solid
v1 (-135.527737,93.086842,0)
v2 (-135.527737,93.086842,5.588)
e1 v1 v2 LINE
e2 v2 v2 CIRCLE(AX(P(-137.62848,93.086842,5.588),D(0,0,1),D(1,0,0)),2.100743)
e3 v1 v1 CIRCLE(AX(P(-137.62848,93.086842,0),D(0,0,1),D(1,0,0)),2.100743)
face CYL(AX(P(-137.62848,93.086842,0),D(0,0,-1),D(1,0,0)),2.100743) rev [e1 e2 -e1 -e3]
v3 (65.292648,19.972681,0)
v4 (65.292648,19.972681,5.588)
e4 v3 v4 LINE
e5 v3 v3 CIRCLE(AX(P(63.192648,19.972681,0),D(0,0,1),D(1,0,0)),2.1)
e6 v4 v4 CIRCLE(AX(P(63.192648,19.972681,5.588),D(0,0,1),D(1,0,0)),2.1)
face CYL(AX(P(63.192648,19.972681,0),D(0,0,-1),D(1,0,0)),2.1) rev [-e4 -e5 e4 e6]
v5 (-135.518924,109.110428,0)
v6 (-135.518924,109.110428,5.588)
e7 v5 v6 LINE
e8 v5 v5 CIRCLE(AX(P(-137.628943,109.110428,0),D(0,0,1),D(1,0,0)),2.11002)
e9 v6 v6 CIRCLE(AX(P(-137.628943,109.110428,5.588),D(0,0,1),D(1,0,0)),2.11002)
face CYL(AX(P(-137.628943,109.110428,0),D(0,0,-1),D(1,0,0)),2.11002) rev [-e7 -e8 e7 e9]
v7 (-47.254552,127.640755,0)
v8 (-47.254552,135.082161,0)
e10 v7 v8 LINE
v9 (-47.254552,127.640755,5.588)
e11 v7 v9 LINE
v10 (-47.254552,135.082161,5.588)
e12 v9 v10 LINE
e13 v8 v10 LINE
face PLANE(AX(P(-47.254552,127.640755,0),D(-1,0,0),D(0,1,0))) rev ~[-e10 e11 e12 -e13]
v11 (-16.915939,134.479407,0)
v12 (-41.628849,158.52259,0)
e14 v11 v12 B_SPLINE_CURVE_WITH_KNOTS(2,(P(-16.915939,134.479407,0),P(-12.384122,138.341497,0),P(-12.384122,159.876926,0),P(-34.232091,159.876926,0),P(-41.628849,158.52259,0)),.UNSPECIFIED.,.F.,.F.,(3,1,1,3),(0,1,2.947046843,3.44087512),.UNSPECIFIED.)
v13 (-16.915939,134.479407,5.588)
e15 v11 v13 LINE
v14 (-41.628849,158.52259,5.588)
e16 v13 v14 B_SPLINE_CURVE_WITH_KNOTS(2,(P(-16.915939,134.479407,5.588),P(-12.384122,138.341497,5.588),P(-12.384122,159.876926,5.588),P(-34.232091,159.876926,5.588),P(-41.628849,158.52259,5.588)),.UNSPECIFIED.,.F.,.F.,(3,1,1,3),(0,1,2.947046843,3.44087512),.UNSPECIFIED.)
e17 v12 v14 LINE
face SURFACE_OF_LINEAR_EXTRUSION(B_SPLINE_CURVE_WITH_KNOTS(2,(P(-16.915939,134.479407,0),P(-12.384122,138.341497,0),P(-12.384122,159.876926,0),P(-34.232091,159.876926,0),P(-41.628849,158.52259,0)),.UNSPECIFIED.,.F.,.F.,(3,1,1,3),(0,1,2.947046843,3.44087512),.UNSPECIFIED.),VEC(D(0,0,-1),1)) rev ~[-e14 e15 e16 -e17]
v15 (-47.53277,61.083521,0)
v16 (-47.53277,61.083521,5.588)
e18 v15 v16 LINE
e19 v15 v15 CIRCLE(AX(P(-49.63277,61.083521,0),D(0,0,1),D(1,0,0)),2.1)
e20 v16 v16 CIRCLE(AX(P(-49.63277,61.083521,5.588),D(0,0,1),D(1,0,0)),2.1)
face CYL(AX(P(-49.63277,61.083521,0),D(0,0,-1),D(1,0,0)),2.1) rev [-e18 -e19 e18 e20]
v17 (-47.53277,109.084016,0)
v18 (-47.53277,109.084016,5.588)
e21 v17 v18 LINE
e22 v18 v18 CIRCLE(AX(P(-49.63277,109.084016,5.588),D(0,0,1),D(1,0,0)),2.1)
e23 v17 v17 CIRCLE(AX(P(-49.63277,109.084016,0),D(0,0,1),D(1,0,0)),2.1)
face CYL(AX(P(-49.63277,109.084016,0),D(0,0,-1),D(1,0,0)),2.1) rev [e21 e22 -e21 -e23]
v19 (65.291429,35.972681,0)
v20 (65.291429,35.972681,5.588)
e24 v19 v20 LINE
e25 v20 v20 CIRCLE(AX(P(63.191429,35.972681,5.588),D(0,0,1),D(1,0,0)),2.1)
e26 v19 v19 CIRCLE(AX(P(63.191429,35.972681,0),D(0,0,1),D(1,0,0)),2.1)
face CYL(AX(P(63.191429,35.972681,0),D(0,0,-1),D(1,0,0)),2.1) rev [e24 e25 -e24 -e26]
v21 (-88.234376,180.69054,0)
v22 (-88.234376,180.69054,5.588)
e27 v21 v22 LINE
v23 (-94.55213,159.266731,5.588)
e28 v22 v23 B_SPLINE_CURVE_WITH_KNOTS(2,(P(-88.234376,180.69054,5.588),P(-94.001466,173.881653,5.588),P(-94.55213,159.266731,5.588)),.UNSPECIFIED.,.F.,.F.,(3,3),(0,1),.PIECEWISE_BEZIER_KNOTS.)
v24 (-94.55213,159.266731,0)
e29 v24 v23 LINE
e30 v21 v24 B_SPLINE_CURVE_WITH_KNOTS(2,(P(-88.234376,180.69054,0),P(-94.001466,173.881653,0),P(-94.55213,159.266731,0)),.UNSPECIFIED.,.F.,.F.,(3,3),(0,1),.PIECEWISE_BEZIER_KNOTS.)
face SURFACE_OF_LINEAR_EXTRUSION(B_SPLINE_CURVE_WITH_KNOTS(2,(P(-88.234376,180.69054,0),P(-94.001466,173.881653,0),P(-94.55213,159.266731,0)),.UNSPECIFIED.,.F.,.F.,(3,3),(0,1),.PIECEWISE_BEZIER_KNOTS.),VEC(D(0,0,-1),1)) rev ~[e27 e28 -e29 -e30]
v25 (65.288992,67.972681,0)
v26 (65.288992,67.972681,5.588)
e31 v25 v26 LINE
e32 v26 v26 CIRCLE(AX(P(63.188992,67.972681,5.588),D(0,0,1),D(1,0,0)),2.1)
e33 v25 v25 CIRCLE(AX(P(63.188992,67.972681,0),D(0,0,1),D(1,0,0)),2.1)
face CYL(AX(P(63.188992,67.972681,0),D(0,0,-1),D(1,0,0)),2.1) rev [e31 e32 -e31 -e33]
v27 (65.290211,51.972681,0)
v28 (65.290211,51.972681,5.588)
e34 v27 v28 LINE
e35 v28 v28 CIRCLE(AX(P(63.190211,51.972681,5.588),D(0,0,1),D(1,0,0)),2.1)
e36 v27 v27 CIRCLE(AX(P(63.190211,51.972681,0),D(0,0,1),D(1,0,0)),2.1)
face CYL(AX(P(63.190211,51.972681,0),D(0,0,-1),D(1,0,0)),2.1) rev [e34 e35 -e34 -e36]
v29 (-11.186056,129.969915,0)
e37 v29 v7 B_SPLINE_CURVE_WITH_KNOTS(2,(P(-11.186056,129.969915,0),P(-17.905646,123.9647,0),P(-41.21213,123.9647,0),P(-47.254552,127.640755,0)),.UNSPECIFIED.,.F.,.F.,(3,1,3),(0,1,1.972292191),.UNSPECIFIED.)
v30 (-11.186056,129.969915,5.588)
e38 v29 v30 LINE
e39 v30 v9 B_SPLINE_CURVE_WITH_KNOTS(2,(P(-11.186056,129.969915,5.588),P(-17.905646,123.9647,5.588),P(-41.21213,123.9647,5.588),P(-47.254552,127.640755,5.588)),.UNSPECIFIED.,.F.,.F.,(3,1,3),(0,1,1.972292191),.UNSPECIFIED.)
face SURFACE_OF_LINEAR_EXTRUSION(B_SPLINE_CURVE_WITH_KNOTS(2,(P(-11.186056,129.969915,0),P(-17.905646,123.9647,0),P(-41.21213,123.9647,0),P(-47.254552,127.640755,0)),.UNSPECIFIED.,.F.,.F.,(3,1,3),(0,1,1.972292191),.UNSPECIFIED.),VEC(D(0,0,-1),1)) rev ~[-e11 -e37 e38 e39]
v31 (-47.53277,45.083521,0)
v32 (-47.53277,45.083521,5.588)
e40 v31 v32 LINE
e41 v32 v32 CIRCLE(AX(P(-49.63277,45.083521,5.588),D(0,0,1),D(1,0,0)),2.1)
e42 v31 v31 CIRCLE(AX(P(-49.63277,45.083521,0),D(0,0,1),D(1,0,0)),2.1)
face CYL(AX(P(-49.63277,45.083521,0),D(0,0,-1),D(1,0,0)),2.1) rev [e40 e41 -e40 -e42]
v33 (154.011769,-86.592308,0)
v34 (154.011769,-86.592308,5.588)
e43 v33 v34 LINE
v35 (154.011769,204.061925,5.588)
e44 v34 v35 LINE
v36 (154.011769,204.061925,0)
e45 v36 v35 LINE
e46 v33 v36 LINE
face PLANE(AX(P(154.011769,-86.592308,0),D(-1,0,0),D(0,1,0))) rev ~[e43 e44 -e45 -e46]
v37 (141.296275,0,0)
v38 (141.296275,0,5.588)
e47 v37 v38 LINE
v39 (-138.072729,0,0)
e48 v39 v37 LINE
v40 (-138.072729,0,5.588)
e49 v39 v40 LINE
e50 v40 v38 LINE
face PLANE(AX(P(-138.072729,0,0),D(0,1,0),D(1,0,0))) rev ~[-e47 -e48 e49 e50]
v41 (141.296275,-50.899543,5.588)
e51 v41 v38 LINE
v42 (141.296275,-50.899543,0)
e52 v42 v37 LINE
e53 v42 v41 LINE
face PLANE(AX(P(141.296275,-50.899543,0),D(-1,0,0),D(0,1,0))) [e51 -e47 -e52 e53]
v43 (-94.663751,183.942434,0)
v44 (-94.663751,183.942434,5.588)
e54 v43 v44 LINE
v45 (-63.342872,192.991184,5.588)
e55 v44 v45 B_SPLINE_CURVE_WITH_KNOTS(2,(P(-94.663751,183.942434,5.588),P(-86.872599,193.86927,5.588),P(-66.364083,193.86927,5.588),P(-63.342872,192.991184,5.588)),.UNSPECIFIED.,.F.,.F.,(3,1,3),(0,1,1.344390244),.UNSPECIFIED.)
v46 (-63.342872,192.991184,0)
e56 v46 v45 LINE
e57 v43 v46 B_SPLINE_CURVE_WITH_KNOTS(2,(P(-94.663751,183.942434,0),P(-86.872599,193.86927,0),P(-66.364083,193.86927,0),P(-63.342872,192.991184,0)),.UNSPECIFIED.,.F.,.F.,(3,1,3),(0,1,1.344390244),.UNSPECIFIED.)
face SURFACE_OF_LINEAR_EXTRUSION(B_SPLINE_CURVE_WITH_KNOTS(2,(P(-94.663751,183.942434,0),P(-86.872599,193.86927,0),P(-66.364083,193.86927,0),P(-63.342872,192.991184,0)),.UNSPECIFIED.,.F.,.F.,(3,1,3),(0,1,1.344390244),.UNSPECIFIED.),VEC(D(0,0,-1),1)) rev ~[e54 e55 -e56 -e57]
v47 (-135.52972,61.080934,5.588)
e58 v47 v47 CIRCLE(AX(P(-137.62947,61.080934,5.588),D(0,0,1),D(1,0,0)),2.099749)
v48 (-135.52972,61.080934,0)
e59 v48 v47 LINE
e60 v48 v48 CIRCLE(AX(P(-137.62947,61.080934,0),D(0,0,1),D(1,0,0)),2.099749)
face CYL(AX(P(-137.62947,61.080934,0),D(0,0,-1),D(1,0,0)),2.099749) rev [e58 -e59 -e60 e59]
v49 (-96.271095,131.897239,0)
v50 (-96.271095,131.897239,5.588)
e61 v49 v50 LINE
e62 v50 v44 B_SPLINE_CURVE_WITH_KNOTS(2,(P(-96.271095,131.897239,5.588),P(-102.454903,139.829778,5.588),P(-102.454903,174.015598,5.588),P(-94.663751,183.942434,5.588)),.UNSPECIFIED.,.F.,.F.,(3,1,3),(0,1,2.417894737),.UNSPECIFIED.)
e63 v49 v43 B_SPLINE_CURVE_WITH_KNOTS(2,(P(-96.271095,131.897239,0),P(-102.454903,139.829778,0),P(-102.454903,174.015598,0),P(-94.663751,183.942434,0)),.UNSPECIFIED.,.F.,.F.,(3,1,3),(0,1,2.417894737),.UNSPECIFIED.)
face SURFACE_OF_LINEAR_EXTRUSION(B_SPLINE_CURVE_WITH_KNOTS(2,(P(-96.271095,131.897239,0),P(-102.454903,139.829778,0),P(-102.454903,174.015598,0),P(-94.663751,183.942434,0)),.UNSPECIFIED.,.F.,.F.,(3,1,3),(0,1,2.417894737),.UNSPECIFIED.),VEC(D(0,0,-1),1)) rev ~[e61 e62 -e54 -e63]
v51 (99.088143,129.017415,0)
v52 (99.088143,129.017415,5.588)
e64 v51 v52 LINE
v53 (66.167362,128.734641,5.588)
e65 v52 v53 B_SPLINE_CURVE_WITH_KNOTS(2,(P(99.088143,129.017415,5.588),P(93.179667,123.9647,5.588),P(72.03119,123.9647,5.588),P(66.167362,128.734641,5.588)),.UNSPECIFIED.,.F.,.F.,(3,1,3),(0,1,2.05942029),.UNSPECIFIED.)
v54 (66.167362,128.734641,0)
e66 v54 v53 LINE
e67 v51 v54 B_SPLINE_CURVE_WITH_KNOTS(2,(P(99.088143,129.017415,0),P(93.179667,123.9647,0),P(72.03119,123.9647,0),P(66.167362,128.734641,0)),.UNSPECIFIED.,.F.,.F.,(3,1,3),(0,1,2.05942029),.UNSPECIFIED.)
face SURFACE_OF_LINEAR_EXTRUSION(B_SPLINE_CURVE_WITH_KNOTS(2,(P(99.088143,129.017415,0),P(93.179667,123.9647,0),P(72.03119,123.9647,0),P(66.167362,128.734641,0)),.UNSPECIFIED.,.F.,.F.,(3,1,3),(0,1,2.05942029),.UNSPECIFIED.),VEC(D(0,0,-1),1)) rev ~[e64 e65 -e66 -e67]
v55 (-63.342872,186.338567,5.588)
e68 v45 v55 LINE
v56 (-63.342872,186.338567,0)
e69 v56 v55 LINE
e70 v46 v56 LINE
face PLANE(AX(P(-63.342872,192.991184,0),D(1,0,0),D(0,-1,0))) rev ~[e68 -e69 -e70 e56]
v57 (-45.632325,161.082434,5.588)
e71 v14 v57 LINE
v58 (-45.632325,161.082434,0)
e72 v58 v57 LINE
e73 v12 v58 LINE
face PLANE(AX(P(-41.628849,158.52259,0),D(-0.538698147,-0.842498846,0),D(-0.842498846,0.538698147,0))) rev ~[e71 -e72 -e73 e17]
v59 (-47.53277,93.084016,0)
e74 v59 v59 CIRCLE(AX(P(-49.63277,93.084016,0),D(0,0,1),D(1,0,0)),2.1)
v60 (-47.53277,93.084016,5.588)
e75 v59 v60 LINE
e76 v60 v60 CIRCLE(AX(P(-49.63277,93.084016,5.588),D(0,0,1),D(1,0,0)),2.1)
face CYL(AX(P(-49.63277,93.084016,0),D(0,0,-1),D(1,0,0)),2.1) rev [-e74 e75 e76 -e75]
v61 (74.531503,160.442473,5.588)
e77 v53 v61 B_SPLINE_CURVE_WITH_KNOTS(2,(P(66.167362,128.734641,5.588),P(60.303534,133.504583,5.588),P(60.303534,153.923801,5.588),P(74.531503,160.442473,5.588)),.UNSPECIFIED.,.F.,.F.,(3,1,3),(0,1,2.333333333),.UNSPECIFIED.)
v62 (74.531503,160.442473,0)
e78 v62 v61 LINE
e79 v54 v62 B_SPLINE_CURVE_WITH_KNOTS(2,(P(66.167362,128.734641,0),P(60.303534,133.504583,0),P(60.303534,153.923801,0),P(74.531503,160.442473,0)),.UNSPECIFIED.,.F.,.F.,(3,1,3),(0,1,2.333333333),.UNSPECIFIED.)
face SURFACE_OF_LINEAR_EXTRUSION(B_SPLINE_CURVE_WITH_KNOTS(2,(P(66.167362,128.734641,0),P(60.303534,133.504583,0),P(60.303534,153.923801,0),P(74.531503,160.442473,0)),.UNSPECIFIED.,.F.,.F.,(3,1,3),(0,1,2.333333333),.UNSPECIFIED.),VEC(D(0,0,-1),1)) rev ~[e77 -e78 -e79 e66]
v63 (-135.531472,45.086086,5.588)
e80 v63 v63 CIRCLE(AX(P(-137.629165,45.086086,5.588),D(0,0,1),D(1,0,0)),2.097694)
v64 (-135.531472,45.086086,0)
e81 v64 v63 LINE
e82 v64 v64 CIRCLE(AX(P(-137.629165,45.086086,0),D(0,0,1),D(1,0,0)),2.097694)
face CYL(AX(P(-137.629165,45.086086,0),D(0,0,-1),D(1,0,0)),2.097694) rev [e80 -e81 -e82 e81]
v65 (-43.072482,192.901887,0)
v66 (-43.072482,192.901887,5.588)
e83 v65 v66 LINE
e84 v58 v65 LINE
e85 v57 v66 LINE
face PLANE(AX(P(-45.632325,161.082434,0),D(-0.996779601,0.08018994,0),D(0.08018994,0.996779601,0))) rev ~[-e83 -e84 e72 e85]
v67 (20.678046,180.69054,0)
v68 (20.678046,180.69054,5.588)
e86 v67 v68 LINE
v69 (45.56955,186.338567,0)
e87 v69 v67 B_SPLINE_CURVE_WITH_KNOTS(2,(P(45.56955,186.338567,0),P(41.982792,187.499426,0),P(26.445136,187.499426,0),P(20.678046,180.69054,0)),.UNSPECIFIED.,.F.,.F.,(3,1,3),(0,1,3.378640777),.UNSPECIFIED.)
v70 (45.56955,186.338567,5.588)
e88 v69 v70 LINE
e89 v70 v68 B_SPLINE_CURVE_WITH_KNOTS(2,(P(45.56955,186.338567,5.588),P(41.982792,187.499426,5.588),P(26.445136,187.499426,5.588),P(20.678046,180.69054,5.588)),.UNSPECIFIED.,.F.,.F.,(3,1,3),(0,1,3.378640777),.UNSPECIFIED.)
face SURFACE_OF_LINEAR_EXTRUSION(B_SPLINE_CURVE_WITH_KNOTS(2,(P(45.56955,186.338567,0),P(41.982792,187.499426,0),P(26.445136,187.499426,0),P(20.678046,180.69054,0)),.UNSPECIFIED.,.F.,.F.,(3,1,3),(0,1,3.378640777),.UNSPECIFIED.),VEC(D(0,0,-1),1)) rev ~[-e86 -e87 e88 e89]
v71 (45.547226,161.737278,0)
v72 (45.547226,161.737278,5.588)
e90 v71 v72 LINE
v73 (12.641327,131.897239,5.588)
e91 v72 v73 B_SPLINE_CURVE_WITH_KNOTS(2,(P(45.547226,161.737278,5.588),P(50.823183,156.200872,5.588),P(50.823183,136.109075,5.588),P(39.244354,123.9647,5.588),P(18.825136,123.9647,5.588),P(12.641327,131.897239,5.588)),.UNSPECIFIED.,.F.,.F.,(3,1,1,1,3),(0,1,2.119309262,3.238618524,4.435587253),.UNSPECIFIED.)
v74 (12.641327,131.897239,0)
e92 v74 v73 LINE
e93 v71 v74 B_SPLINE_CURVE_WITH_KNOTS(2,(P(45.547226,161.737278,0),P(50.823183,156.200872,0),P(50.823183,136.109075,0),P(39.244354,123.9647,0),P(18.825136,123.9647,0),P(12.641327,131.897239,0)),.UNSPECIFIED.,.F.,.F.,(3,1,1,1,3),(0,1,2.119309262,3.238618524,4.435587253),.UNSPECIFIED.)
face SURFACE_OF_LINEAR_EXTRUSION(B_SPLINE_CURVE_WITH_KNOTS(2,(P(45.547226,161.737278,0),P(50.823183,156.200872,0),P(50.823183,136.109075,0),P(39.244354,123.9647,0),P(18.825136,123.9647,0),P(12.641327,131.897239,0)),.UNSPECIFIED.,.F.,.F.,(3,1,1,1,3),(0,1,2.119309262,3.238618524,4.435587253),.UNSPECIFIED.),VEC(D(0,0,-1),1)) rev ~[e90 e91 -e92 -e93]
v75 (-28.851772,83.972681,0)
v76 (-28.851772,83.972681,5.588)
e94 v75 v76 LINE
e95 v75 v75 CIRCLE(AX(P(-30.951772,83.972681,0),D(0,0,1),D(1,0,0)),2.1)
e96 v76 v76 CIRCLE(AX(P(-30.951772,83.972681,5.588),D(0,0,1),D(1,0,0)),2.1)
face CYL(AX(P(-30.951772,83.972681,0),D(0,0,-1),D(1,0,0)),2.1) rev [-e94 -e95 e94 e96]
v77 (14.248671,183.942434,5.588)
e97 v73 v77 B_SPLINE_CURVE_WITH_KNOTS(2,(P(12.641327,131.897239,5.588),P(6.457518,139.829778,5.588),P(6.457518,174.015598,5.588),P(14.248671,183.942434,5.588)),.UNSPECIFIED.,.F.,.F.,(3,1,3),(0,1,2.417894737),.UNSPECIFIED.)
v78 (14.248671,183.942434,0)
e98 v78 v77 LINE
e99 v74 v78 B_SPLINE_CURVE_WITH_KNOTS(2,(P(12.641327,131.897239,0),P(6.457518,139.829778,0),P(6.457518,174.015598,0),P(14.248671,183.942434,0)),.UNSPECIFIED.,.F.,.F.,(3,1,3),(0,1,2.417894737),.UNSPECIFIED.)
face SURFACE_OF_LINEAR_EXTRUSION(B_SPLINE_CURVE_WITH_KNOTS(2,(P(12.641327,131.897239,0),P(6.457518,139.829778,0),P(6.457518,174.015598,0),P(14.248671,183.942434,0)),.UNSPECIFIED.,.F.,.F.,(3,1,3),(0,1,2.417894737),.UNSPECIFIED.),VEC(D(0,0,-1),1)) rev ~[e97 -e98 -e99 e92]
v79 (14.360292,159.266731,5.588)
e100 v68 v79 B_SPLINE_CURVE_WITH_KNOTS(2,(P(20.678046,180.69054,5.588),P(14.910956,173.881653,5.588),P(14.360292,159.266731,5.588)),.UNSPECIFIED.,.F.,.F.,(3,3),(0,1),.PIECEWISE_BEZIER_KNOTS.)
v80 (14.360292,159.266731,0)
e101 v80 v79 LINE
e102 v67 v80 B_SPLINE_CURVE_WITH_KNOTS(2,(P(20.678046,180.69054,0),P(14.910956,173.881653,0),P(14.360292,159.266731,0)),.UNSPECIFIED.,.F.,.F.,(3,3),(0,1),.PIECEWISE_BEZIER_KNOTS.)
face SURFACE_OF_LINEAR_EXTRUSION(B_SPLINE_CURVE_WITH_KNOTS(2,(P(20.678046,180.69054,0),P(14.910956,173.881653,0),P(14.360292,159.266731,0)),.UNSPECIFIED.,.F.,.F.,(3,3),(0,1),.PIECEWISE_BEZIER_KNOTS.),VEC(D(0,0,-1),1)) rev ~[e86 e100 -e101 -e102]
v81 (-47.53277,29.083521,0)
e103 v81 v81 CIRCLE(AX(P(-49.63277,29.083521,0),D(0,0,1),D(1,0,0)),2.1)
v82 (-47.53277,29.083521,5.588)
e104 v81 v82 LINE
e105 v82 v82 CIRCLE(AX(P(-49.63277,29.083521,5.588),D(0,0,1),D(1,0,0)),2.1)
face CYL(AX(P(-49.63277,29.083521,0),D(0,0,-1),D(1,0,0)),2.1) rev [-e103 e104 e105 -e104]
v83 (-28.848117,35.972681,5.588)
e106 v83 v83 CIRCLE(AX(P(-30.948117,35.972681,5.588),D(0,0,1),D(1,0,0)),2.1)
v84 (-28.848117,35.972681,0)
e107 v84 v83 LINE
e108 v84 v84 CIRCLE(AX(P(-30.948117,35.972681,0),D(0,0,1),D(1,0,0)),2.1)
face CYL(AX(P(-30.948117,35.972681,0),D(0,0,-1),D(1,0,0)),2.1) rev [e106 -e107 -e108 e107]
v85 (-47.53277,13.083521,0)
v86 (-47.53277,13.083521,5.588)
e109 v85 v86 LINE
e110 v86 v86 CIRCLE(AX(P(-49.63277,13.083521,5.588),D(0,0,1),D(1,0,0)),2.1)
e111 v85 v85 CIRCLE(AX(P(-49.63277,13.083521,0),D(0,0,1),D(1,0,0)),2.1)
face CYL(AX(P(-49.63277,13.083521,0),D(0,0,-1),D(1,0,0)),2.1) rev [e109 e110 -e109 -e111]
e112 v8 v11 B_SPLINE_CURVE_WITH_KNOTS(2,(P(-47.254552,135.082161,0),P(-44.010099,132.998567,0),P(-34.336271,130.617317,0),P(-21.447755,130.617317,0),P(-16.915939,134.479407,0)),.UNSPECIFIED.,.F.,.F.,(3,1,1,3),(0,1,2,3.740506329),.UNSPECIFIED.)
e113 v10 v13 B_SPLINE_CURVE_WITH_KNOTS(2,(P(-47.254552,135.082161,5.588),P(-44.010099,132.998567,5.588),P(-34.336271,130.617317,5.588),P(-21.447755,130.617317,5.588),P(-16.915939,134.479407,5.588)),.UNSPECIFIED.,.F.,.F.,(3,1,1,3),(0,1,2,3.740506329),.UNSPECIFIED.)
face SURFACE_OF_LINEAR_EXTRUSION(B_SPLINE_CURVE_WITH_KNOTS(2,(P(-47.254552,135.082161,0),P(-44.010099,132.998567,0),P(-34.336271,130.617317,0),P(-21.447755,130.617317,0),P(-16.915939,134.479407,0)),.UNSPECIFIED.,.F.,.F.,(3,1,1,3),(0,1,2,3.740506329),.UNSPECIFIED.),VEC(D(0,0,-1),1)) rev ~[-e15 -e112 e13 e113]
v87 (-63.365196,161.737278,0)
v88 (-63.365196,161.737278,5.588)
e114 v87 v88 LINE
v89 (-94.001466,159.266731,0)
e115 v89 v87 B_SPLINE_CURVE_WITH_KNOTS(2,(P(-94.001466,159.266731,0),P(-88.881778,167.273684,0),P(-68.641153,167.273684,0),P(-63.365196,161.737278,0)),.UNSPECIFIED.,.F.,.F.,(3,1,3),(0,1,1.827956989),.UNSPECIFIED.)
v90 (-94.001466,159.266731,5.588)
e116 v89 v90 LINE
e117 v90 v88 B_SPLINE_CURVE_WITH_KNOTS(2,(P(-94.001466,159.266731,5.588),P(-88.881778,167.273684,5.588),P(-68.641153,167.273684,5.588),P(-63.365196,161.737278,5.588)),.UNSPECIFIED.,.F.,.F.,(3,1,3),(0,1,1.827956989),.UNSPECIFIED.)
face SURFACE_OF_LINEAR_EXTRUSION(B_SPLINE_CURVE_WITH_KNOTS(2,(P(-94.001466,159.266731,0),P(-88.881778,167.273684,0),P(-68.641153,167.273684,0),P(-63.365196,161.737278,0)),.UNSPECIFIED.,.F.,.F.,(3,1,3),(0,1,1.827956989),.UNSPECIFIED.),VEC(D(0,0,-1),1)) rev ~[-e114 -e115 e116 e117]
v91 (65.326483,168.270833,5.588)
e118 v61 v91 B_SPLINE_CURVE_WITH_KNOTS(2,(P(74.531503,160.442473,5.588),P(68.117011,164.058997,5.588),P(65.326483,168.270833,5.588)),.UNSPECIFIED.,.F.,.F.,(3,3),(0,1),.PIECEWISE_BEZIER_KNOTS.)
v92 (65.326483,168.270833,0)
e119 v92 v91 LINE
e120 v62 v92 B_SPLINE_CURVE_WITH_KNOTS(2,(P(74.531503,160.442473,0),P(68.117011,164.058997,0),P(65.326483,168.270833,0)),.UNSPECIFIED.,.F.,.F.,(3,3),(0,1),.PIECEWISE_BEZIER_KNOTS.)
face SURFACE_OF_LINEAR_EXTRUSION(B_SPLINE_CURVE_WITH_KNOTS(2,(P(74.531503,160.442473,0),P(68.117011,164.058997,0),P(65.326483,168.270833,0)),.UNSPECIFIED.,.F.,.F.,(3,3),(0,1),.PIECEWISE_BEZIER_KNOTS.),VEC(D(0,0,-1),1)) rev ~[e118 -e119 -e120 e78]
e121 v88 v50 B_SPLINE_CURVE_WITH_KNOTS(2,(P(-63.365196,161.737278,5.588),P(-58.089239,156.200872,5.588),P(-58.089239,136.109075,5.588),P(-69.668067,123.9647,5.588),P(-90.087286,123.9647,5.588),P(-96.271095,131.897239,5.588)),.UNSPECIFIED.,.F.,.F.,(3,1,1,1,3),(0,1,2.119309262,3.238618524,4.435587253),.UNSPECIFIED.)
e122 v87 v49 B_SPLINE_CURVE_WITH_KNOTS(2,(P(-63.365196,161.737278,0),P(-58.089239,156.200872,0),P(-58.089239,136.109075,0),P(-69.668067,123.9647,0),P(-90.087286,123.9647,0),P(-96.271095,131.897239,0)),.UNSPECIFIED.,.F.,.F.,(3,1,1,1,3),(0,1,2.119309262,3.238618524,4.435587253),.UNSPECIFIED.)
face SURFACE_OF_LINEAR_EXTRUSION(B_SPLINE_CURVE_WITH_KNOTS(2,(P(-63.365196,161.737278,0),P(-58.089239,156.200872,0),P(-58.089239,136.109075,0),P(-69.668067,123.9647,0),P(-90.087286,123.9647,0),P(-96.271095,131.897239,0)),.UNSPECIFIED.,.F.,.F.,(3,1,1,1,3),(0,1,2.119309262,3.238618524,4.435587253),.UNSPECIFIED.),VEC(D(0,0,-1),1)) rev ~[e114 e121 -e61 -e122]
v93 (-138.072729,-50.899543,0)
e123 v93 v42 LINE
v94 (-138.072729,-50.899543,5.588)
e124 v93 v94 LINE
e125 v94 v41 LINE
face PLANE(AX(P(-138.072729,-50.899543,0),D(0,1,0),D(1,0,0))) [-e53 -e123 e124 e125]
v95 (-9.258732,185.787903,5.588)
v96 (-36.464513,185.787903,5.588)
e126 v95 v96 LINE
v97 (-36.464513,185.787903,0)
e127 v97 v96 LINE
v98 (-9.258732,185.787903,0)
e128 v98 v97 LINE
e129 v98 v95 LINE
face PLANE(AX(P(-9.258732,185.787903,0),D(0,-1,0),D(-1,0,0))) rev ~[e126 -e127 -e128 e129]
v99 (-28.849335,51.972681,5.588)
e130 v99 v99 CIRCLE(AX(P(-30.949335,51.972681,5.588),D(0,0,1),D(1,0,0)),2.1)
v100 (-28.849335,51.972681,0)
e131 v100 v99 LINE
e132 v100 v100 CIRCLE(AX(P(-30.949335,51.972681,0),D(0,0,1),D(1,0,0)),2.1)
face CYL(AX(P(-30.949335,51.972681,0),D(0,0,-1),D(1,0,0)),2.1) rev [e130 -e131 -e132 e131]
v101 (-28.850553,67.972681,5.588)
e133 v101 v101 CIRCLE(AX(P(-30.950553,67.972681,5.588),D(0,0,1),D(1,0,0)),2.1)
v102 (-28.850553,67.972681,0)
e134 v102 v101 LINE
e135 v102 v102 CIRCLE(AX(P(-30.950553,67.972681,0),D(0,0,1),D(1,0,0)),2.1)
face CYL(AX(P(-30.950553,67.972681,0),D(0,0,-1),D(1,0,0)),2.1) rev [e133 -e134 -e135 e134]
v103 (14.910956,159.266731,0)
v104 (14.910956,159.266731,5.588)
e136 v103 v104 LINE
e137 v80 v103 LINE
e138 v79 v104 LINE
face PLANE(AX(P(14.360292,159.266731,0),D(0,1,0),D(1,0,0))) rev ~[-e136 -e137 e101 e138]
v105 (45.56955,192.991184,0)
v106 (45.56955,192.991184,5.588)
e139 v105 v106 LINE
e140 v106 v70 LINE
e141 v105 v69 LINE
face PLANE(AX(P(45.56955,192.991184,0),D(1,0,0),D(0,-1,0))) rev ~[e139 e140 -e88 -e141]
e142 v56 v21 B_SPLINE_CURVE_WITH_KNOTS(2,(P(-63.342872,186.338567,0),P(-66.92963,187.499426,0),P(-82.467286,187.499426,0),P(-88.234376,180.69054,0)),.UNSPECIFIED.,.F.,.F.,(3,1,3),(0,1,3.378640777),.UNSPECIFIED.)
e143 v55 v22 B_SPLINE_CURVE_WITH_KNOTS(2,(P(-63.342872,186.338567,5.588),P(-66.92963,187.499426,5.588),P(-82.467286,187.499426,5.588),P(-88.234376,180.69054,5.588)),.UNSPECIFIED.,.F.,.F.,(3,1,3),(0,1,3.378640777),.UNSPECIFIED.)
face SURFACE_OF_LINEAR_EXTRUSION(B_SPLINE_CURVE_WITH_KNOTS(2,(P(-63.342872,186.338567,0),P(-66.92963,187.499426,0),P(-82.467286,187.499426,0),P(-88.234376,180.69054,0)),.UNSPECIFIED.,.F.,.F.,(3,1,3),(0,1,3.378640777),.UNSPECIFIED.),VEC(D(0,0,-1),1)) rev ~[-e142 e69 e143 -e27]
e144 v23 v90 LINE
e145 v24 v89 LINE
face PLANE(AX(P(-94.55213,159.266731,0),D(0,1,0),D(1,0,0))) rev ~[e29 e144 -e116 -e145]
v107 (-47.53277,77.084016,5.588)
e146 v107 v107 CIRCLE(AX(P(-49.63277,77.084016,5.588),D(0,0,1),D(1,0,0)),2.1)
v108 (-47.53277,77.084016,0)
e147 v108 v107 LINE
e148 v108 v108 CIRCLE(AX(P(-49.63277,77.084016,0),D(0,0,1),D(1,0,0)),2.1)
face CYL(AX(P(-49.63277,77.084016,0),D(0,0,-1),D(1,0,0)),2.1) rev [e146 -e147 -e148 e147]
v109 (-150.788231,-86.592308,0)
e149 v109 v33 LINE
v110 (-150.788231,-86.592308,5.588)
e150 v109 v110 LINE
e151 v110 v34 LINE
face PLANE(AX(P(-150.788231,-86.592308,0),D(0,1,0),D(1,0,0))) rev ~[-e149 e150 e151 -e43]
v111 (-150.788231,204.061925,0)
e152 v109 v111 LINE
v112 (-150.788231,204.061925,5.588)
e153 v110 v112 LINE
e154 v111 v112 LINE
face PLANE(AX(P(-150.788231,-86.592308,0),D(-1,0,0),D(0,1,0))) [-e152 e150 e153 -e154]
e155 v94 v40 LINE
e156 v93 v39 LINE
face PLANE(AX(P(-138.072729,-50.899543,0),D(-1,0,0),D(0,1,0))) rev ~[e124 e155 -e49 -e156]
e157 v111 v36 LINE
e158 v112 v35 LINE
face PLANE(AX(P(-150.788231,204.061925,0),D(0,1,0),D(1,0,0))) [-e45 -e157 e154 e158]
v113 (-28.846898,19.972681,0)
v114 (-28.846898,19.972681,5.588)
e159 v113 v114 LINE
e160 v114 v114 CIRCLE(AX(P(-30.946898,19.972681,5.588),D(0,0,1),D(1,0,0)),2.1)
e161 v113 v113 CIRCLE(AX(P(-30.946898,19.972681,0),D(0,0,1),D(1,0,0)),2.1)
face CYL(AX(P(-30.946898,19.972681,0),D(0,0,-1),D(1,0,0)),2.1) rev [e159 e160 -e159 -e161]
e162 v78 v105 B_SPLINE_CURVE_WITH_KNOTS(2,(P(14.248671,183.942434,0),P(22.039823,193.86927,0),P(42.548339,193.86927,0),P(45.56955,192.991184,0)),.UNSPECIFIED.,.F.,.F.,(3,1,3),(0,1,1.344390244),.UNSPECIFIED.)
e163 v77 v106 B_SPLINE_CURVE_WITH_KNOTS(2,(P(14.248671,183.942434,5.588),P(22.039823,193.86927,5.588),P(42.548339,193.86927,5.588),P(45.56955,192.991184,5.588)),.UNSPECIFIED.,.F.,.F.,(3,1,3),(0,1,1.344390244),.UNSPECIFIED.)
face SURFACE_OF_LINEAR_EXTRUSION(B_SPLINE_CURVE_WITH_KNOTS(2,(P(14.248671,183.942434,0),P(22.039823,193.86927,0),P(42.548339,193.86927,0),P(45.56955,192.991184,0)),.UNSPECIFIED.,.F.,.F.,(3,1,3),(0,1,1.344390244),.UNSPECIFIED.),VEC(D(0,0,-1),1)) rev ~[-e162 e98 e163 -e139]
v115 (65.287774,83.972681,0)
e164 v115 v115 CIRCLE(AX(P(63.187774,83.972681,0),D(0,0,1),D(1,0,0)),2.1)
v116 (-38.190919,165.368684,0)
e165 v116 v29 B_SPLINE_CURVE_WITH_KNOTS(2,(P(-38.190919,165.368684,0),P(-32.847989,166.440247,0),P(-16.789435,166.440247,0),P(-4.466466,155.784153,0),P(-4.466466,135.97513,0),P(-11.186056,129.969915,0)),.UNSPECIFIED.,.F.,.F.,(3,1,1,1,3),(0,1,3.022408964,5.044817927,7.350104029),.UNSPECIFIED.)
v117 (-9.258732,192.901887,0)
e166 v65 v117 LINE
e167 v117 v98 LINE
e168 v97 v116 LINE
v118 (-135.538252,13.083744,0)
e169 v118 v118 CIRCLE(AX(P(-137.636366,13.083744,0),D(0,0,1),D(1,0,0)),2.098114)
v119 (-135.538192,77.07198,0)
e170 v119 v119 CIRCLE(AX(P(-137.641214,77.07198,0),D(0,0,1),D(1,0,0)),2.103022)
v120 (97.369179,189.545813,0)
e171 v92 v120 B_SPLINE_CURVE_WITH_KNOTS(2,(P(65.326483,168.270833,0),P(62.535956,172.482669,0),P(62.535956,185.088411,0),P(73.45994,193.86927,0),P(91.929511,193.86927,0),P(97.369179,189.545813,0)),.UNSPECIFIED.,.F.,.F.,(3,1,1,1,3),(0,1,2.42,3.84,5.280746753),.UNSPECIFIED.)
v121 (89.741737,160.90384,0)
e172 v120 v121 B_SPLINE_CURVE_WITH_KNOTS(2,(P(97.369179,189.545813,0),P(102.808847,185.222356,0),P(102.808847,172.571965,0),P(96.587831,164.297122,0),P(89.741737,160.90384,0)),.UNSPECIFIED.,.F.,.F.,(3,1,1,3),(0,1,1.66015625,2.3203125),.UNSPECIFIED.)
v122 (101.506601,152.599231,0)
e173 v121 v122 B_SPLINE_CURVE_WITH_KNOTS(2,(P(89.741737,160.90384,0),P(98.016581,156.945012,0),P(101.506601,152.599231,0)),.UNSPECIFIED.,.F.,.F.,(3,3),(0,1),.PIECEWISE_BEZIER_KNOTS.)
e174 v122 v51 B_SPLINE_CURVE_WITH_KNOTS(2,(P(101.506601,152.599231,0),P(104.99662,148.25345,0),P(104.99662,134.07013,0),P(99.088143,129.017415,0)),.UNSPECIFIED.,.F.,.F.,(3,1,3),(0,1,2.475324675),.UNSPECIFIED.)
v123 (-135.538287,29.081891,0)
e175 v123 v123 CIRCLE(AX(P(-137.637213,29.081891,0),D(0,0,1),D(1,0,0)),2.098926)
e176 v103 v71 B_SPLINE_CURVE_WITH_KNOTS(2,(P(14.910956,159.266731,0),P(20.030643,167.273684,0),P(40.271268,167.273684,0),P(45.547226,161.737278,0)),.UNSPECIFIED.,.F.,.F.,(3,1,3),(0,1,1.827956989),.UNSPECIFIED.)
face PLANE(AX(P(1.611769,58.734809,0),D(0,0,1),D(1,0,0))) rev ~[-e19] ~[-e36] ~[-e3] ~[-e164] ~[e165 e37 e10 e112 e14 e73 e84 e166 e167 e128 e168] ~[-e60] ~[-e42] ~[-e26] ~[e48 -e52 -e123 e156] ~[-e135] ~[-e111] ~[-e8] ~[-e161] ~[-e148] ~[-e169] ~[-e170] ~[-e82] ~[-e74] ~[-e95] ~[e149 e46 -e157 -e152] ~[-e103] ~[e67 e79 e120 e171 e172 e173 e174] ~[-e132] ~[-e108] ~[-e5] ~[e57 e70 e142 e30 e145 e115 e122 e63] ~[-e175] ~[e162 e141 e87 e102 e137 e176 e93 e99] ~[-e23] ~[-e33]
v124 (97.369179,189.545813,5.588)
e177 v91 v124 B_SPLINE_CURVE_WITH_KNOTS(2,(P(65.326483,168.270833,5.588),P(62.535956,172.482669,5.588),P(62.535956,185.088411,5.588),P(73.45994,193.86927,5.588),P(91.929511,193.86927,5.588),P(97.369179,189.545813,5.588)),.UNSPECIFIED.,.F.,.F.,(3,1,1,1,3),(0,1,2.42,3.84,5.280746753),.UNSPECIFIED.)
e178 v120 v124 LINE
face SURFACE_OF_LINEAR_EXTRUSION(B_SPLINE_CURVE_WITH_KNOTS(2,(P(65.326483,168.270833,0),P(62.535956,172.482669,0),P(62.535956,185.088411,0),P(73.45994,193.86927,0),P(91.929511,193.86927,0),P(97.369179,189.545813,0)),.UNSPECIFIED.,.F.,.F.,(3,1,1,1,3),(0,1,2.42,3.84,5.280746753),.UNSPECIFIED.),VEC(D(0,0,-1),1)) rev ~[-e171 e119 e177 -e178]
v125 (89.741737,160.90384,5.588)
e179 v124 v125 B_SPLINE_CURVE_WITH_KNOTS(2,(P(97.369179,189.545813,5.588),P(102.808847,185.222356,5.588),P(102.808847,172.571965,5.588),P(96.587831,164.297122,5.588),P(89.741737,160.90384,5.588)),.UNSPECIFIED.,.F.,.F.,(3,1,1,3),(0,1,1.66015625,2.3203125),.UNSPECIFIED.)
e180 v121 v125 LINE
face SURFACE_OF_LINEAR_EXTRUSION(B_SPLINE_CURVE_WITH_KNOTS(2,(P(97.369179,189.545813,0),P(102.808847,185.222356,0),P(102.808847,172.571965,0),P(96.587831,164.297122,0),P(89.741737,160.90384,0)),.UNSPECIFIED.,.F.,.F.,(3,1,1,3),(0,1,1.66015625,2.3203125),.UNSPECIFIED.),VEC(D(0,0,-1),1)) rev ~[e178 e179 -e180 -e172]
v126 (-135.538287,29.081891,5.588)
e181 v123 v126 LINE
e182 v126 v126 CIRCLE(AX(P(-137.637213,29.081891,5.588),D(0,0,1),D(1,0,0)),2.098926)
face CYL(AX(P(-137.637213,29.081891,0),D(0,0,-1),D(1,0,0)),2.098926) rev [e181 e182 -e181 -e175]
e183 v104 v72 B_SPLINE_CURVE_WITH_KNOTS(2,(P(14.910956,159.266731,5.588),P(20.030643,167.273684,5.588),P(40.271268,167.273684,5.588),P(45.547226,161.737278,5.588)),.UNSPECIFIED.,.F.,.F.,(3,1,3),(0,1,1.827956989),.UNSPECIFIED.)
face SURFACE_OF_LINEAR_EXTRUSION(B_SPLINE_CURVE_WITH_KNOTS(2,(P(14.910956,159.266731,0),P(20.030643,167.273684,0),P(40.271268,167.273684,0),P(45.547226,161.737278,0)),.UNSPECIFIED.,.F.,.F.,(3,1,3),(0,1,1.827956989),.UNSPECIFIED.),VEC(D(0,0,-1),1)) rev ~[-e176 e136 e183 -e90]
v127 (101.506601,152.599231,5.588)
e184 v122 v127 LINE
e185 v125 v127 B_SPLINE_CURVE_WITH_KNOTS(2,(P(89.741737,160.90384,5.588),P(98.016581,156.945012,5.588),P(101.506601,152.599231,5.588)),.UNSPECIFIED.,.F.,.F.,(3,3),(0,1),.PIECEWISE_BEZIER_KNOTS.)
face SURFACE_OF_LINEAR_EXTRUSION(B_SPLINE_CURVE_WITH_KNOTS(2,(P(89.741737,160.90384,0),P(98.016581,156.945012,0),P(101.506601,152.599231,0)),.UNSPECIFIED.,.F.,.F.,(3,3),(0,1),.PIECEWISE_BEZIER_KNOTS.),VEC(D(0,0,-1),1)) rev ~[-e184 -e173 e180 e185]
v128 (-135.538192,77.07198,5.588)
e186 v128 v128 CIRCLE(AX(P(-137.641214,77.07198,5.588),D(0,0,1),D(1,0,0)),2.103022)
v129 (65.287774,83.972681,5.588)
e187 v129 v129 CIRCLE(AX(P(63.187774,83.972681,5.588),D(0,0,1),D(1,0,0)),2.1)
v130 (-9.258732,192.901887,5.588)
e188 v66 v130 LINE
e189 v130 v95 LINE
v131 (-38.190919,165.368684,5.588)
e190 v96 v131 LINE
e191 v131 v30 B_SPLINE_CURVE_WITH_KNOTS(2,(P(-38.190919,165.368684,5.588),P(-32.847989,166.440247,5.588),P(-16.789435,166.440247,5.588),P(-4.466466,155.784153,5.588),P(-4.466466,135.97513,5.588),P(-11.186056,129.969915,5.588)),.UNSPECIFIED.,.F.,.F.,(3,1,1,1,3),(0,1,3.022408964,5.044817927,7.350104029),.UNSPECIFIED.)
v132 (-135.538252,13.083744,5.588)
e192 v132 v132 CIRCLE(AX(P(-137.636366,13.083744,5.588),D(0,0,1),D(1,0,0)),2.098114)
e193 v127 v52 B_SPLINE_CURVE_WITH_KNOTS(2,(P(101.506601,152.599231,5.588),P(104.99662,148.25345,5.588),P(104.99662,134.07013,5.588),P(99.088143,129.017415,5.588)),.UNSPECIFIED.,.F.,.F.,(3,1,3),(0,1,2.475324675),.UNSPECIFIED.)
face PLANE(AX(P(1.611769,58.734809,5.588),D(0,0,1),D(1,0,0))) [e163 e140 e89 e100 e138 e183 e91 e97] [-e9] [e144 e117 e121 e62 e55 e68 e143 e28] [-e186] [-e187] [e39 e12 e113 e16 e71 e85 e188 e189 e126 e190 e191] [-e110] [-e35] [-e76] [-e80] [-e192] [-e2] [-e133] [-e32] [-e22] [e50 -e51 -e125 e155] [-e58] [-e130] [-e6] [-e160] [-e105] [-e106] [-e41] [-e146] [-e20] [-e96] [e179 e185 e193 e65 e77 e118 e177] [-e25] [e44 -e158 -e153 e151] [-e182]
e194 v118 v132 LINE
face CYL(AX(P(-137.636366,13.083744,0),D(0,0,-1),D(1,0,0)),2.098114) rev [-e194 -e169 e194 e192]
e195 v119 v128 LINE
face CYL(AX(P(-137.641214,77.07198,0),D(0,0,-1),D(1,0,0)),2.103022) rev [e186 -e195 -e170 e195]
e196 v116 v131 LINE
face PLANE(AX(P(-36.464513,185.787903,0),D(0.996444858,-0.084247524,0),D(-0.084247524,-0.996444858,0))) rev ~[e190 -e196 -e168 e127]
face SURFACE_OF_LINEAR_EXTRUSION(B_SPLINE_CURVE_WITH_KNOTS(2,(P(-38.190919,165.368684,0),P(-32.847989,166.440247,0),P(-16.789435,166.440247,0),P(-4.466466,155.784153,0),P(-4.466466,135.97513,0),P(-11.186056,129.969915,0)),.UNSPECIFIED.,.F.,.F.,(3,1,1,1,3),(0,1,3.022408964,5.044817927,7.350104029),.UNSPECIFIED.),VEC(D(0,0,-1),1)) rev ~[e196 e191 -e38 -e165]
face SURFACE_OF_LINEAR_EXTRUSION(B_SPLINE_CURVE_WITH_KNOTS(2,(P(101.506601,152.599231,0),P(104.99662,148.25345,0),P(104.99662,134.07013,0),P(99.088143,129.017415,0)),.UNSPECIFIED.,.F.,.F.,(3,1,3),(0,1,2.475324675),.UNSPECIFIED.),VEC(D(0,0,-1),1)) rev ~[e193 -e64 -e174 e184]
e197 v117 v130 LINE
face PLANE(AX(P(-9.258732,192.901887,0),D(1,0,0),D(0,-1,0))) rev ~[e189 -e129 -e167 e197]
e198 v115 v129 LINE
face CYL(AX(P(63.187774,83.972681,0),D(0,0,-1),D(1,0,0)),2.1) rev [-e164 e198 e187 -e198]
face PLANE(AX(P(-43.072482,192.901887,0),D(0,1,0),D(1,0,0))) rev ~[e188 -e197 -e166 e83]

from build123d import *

# Parameters (mm, degrees)
F0_W     = 304.8
F0_H     = 290.6542338112
F0_R     = 2.0981137291
F0_R_2   = 2.0989264552
F0_R_3   = 2.0976936779
F0_R_4   = 2.1
F0_W_2   = 279.3690043101
F0_H_2   = 50.8995426
F0_R_5   = 2.0997492789
F0_R_6   = 2.1030218178
F0_R_7   = 2.1007431661
F0_R_8   = 2.1100198715
F1_DEPTH = 5.588


with BuildPart() as f1:
    # F0 (on Top) → F1 (new body)
    with BuildSketch(Plane.XY):
        with Locations((1.6117691994, 58.7348085056)):
            Rectangle(F0_W, F0_H)
        with Locations((-137.6363656092, 13.0837442843)):
            Circle(F0_R, mode=Mode.SUBTRACT)
        with Locations((-137.6372131602, 29.0818907095)):
            Circle(F0_R_2, mode=Mode.SUBTRACT)
        with Locations((-137.6291652849, 45.0860855355)):
            Circle(F0_R_3, mode=Mode.SUBTRACT)
        with Locations((-49.6327695587, 13.0835205343)):
            Circle(F0_R_4, mode=Mode.SUBTRACT)
        with Locations((-30.9468981291, 19.9726814427)):
            Circle(F0_R_4, mode=Mode.SUBTRACT)
        with Locations((-49.6327695587, 29.0835205343)):
            Circle(F0_R_4, mode=Mode.SUBTRACT)
        with Locations((-49.6327695587, 45.0835205343)):
            Circle(F0_R_4, mode=Mode.SUBTRACT)
        with Locations((-30.9481165686, 35.9726813963)):
            Circle(F0_R_4, mode=Mode.SUBTRACT)
        with Locations((-30.9493350082, 51.97268135)):
            Circle(F0_R_4, mode=Mode.SUBTRACT)
        with Locations((1.6117730443, -25.4497713)):
            Rectangle(F0_W_2, F0_H_2, mode=Mode.SUBTRACT)
        with Locations((63.1926475089, 19.9726814427)):
            Circle(F0_R_4, mode=Mode.SUBTRACT)
        with Locations((63.1914290694, 35.9726813963)):
            Circle(F0_R_4, mode=Mode.SUBTRACT)
        with Locations((63.1902106298, 51.97268135)):
            Circle(F0_R_4, mode=Mode.SUBTRACT)
        with Locations((-137.6294695335, 61.0809336582)):
            Circle(F0_R_5, mode=Mode.SUBTRACT)
        with Locations((-137.6412135418, 77.0719800519)):
            Circle(F0_R_6, mode=Mode.SUBTRACT)
        with Locations((-137.6284801063, 93.0868421709)):
            Circle(F0_R_7, mode=Mode.SUBTRACT)
        with Locations((-137.6289433874, 109.1104278224)):
            Circle(F0_R_8, mode=Mode.SUBTRACT)
        with Locations((-49.6327695587, 61.0835205343)):
            Circle(F0_R_4, mode=Mode.SUBTRACT)
        with Locations((-49.6327695587, 77.0840155506)):
            Circle(F0_R_4, mode=Mode.SUBTRACT)
        with Locations((-49.6327695587, 93.0840155506)):
            Circle(F0_R_4, mode=Mode.SUBTRACT)
        with Locations((-30.9505534477, 67.9726813036)):
            Circle(F0_R_4, mode=Mode.SUBTRACT)
        with Locations((-30.9517718873, 83.9726812572)):
            Circle(F0_R_4, mode=Mode.SUBTRACT)
        with Locations((-49.6327695587, 109.0840155506)):
            Circle(F0_R_4, mode=Mode.SUBTRACT)
        with BuildLine():
            add(Edge.make_bspline(
                [(-96.2710947967, 131.8972389054), (-102.4549033904, 139.8297779679), (-102.4549033904, 153.9684498429)],
                knots=[0, 0, 0, 1, 1, 1], degree=2))
            add(Edge.make_bspline(
                [(-102.4549033904, 153.9684498429), (-102.4549033904, 174.0155982804), (-94.6637510467, 183.9424342179)],
                knots=[0, 0, 0, 1, 1, 1], degree=2))
            add(Edge.make_bspline(
                [(-94.6637510467, 183.9424342179), (-86.8725987029, 193.8692701554), (-71.6177158904, 193.8692701554)],
                knots=[0, 0, 0, 1, 1, 1], degree=2))
            add(Edge.make_bspline(
                [(-71.6177158904, 193.8692701554), (-66.3640830779, 193.8692701554), (-63.3428721404, 192.9911842179)],
                knots=[0, 0, 0, 1, 1, 1], degree=2))
            Line((-63.3428721404, 192.9911842179), (-63.3428721404, 186.3385670304))
            add(Edge.make_bspline(
                [(-63.3428721404, 186.3385670304), (-66.9296299529, 187.4994264054), (-71.5284190154, 187.4994264054)],
                knots=[0, 0, 0, 1, 1, 1], degree=2))
            add(Edge.make_bspline(
                [(-71.5284190154, 187.4994264054), (-82.4672862029, 187.4994264054), (-88.2343760467, 180.6905396867)],
                knots=[0, 0, 0, 1, 1, 1], degree=2))
            add(Edge.make_bspline(
                [(-88.2343760467, 180.6905396867), (-94.0014658904, 173.8816529679), (-94.5521299529, 159.2667310929)],
                knots=[0, 0, 0, 1, 1, 1], degree=2))
            Line((-94.5521299529, 159.2667310929), (-94.0014658904, 159.2667310929))
            add(Edge.make_bspline(
                [(-94.0014658904, 159.2667310929), (-88.8817783904, 167.2736842179), (-77.8089658904, 167.2736842179)],
                knots=[0, 0, 0, 1, 1, 1], degree=2))
            add(Edge.make_bspline(
                [(-77.8089658904, 167.2736842179), (-68.6411533904, 167.2736842179), (-63.3651963592, 161.7372779679)],
                knots=[0, 0, 0, 1, 1, 1], degree=2))
            add(Edge.make_bspline(
                [(-63.3651963592, 161.7372779679), (-58.0892393279, 156.2008717179), (-58.0892393279, 146.7205201554)],
                knots=[0, 0, 0, 1, 1, 1], degree=2))
            add(Edge.make_bspline(
                [(-58.0892393279, 146.7205201554), (-58.0892393279, 136.1090748429), (-63.8786533904, 130.0368873429)],
                knots=[0, 0, 0, 1, 1, 1], degree=2))
            add(Edge.make_bspline(
                [(-63.8786533904, 130.0368873429), (-69.6680674529, 123.9646998429), (-79.5353721404, 123.9646998429)],
                knots=[0, 0, 0, 1, 1, 1], degree=2))
            add(Edge.make_bspline(
                [(-79.5353721404, 123.9646998429), (-90.0872862029, 123.9646998429), (-96.2710947967, 131.8972389054)],
                knots=[0, 0, 0, 1, 1, 1], degree=2))
        make_face(mode=Mode.SUBTRACT)
        with BuildLine():
            add(Edge.make_bspline(
                [(-38.1909190154, 165.3686842179), (-32.8479893279, 166.4402467179), (-27.5348252654, 166.4402467179)],
                knots=[0, 0, 0, 1, 1, 1], degree=2))
            add(Edge.make_bspline(
                [(-27.5348252654, 166.4402467179), (-16.7894346404, 166.4402467179), (-10.6279502654, 161.1121998429)],
                knots=[0, 0, 0, 1, 1, 1], degree=2))
            add(Edge.make_bspline(
                [(-10.6279502654, 161.1121998429), (-4.4664658904, 155.7841529679), (-4.4664658904, 146.5270435929)],
                knots=[0, 0, 0, 1, 1, 1], degree=2))
            add(Edge.make_bspline(
                [(-4.4664658904, 146.5270435929), (-4.4664658904, 135.9751295304), (-11.1860557342, 129.9699146867)],
                knots=[0, 0, 0, 1, 1, 1], degree=2))
            add(Edge.make_bspline(
                [(-11.1860557342, 129.9699146867), (-17.9056455779, 123.9646998429), (-29.7225987029, 123.9646998429)],
                knots=[0, 0, 0, 1, 1, 1], degree=2))
            add(Edge.make_bspline(
                [(-29.7225987029, 123.9646998429), (-41.2121299529, 123.9646998429), (-47.2545518279, 127.6407545304)],
                knots=[0, 0, 0, 1, 1, 1], degree=2))
            Line((-47.2545518279, 127.6407545304), (-47.2545518279, 135.0821607804))
            add(Edge.make_bspline(
                [(-47.2545518279, 135.0821607804), (-44.0100987029, 132.9985670304), (-39.1731846404, 131.8079420304)],
                knots=[0, 0, 0, 1, 1, 1], degree=2))
            add(Edge.make_bspline(
                [(-39.1731846404, 131.8079420304), (-34.3362705779, 130.6173170304), (-29.6333018279, 130.6173170304)],
                knots=[0, 0, 0, 1, 1, 1], degree=2))
            add(Edge.make_bspline(
                [(-29.6333018279, 130.6173170304), (-21.4477549529, 130.6173170304), (-16.9159385467, 134.4794068742)],
                knots=[0, 0, 0, 1, 1, 1], degree=2))
            add(Edge.make_bspline(
                [(-16.9159385467, 134.4794068742), (-12.3841221404, 138.3414967179), (-12.3841221404, 145.6489576554)],
                knots=[0, 0, 0, 1, 1, 1], degree=2))
            add(Edge.make_bspline(
                [(-12.3841221404, 145.6489576554), (-12.3841221404, 159.8769264054), (-29.8118955779, 159.8769264054)],
                knots=[0, 0, 0, 1, 1, 1], degree=2))
            add(Edge.make_bspline(
                [(-29.8118955779, 159.8769264054), (-34.2320908904, 159.8769264054), (-41.6288487029, 158.5225904679)],
                knots=[0, 0, 0, 1, 1, 1], degree=2))
            Line((-41.6288487029, 158.5225904679), (-45.6323252654, 161.0824342179))
            Line((-45.6323252654, 161.0824342179), (-43.0724815154, 192.9018873429))
            Line((-43.0724815154, 192.9018873429), (-9.2587315154, 192.9018873429))
            Line((-9.2587315154, 192.9018873429), (-9.2587315154, 185.7879029679))
            Line((-9.2587315154, 185.7879029679), (-36.4645127654, 185.7879029679))
            Line((-36.4645127654, 185.7879029679), (-38.1909190154, 165.3686842179))
        make_face(mode=Mode.SUBTRACT)
        with Locations((63.1889921903, 67.9726813036)):
            Circle(F0_R_4, mode=Mode.SUBTRACT)
        with Locations((63.1877737507, 83.9726812572)):
            Circle(F0_R_4, mode=Mode.SUBTRACT)
        with BuildLine():
            add(Edge.make_bspline(
                [(12.6413270783, 131.8972389054), (6.4575184846, 139.8297779679), (6.4575184846, 153.9684498429)],
                knots=[0, 0, 0, 1, 1, 1], degree=2))
            add(Edge.make_bspline(
                [(6.4575184846, 153.9684498429), (6.4575184846, 174.0155982804), (14.2486708283, 183.9424342179)],
                knots=[0, 0, 0, 1, 1, 1], degree=2))
            add(Edge.make_bspline(
                [(14.2486708283, 183.9424342179), (22.0398231721, 193.8692701554), (37.2947059846, 193.8692701554)],
                knots=[0, 0, 0, 1, 1, 1], degree=2))
            add(Edge.make_bspline(
                [(37.2947059846, 193.8692701554), (42.5483387971, 193.8692701554), (45.5695497346, 192.9911842179)],
                knots=[0, 0, 0, 1, 1, 1], degree=2))
            Line((45.5695497346, 192.9911842179), (45.5695497346, 186.3385670304))
            add(Edge.make_bspline(
                [(45.5695497346, 186.3385670304), (41.9827919221, 187.4994264054), (37.3840028596, 187.4994264054)],
                knots=[0, 0, 0, 1, 1, 1], degree=2))
            add(Edge.make_bspline(
                [(37.3840028596, 187.4994264054), (26.4451356721, 187.4994264054), (20.6780458283, 180.6905396867)],
                knots=[0, 0, 0, 1, 1, 1], degree=2))
            add(Edge.make_bspline(
                [(20.6780458283, 180.6905396867), (14.9109559846, 173.8816529679), (14.3602919221, 159.2667310929)],
                knots=[0, 0, 0, 1, 1, 1], degree=2))
            Line((14.3602919221, 159.2667310929), (14.9109559846, 159.2667310929))
            add(Edge.make_bspline(
                [(14.9109559846, 159.2667310929), (20.0306434846, 167.2736842179), (31.1034559846, 167.2736842179)],
                knots=[0, 0, 0, 1, 1, 1], degree=2))
            add(Edge.make_bspline(
                [(31.1034559846, 167.2736842179), (40.2712684846, 167.2736842179), (45.5472255158, 161.7372779679)],
                knots=[0, 0, 0, 1, 1, 1], degree=2))
            add(Edge.make_bspline(
                [(45.5472255158, 161.7372779679), (50.8231825471, 156.2008717179), (50.8231825471, 146.7205201554)],
                knots=[0, 0, 0, 1, 1, 1], degree=2))
            add(Edge.make_bspline(
                [(50.8231825471, 146.7205201554), (50.8231825471, 136.1090748429), (45.0337684846, 130.0368873429)],
                knots=[0, 0, 0, 1, 1, 1], degree=2))
            add(Edge.make_bspline(
                [(45.0337684846, 130.0368873429), (39.2443544221, 123.9646998429), (29.3770497346, 123.9646998429)],
                knots=[0, 0, 0, 1, 1, 1], degree=2))
            add(Edge.make_bspline(
                [(29.3770497346, 123.9646998429), (18.8251356721, 123.9646998429), (12.6413270783, 131.8972389054)],
                knots=[0, 0, 0, 1, 1, 1], degree=2))
        make_face(mode=Mode.SUBTRACT)
        with BuildLine():
            add(Edge.make_bspline(
                [(67.9979481721, 189.4788404679), (73.4599403596, 193.8692701554), (82.6277528596, 193.8692701554)],
                knots=[0, 0, 0, 1, 1, 1], degree=2))
            add(Edge.make_bspline(
                [(82.6277528596, 193.8692701554), (91.9295106721, 193.8692701554), (97.3691786408, 189.5458131242)],
                knots=[0, 0, 0, 1, 1, 1], degree=2))
            add(Edge.make_bspline(
                [(97.3691786408, 189.5458131242), (102.8088466096, 185.2223560929), (102.8088466096, 177.6023560929)],
                knots=[0, 0, 0, 1, 1, 1], degree=2))
            add(Edge.make_bspline(
                [(102.8088466096, 177.6023560929), (102.8088466096, 172.5719654679), (99.6983387971, 168.4345435929)],
                knots=[0, 0, 0, 1, 1, 1], degree=2))
            add(Edge.make_bspline(
                [(99.6983387971, 168.4345435929), (96.5878309846, 164.2971217179), (89.7417372346, 160.9038404679)],
                knots=[0, 0, 0, 1, 1, 1], degree=2))
            add(Edge.make_bspline(
                [(89.7417372346, 160.9038404679), (98.0165809846, 156.9450123429), (101.5066005158, 152.5992310929)],
                knots=[0, 0, 0, 1, 1, 1], degree=2))
            add(Edge.make_bspline(
                [(101.5066005158, 152.5992310929), (104.9966200471, 148.2534498429), (104.9966200471, 142.5235670304)],
                knots=[0, 0, 0, 1, 1, 1], degree=2))
            add(Edge.make_bspline(
                [(104.9966200471, 142.5235670304), (104.9966200471, 134.0701295304), (99.0881434846, 129.0174146867)],
                knots=[0, 0, 0, 1, 1, 1], degree=2))
            add(Edge.make_bspline(
                [(99.0881434846, 129.0174146867), (93.1796669221, 123.9646998429), (82.9105262971, 123.9646998429)],
                knots=[0, 0, 0, 1, 1, 1], degree=2))
            add(Edge.make_bspline(
                [(82.9105262971, 123.9646998429), (72.0311903596, 123.9646998429), (66.1673622346, 128.7346412492)],
                knots=[0, 0, 0, 1, 1, 1], degree=2))
            add(Edge.make_bspline(
                [(66.1673622346, 128.7346412492), (60.3035341096, 133.5045826554), (60.3035341096, 142.2556764054)],
                knots=[0, 0, 0, 1, 1, 1], degree=2))
            add(Edge.make_bspline(
                [(60.3035341096, 142.2556764054), (60.3035341096, 153.9238014054), (74.5315028596, 160.4424732804)],
                knots=[0, 0, 0, 1, 1, 1], degree=2))
            add(Edge.make_bspline(
                [(74.5315028596, 160.4424732804), (68.1170106721, 164.0589967179), (65.3264833283, 168.2708326554)],
                knots=[0, 0, 0, 1, 1, 1], degree=2))
            add(Edge.make_bspline(
                [(65.3264833283, 168.2708326554), (62.5359559846, 172.4826685929), (62.5359559846, 177.6916529679)],
                knots=[0, 0, 0, 1, 1, 1], degree=2))
            add(Edge.make_bspline(
                [(62.5359559846, 177.6916529679), (62.5359559846, 185.0884107804), (67.9979481721, 189.4788404679)],
                knots=[0, 0, 0, 1, 1, 1], degree=2))
        make_face(mode=Mode.SUBTRACT)
    extrude(amount=F1_DEPTH)


solid = f1.part
